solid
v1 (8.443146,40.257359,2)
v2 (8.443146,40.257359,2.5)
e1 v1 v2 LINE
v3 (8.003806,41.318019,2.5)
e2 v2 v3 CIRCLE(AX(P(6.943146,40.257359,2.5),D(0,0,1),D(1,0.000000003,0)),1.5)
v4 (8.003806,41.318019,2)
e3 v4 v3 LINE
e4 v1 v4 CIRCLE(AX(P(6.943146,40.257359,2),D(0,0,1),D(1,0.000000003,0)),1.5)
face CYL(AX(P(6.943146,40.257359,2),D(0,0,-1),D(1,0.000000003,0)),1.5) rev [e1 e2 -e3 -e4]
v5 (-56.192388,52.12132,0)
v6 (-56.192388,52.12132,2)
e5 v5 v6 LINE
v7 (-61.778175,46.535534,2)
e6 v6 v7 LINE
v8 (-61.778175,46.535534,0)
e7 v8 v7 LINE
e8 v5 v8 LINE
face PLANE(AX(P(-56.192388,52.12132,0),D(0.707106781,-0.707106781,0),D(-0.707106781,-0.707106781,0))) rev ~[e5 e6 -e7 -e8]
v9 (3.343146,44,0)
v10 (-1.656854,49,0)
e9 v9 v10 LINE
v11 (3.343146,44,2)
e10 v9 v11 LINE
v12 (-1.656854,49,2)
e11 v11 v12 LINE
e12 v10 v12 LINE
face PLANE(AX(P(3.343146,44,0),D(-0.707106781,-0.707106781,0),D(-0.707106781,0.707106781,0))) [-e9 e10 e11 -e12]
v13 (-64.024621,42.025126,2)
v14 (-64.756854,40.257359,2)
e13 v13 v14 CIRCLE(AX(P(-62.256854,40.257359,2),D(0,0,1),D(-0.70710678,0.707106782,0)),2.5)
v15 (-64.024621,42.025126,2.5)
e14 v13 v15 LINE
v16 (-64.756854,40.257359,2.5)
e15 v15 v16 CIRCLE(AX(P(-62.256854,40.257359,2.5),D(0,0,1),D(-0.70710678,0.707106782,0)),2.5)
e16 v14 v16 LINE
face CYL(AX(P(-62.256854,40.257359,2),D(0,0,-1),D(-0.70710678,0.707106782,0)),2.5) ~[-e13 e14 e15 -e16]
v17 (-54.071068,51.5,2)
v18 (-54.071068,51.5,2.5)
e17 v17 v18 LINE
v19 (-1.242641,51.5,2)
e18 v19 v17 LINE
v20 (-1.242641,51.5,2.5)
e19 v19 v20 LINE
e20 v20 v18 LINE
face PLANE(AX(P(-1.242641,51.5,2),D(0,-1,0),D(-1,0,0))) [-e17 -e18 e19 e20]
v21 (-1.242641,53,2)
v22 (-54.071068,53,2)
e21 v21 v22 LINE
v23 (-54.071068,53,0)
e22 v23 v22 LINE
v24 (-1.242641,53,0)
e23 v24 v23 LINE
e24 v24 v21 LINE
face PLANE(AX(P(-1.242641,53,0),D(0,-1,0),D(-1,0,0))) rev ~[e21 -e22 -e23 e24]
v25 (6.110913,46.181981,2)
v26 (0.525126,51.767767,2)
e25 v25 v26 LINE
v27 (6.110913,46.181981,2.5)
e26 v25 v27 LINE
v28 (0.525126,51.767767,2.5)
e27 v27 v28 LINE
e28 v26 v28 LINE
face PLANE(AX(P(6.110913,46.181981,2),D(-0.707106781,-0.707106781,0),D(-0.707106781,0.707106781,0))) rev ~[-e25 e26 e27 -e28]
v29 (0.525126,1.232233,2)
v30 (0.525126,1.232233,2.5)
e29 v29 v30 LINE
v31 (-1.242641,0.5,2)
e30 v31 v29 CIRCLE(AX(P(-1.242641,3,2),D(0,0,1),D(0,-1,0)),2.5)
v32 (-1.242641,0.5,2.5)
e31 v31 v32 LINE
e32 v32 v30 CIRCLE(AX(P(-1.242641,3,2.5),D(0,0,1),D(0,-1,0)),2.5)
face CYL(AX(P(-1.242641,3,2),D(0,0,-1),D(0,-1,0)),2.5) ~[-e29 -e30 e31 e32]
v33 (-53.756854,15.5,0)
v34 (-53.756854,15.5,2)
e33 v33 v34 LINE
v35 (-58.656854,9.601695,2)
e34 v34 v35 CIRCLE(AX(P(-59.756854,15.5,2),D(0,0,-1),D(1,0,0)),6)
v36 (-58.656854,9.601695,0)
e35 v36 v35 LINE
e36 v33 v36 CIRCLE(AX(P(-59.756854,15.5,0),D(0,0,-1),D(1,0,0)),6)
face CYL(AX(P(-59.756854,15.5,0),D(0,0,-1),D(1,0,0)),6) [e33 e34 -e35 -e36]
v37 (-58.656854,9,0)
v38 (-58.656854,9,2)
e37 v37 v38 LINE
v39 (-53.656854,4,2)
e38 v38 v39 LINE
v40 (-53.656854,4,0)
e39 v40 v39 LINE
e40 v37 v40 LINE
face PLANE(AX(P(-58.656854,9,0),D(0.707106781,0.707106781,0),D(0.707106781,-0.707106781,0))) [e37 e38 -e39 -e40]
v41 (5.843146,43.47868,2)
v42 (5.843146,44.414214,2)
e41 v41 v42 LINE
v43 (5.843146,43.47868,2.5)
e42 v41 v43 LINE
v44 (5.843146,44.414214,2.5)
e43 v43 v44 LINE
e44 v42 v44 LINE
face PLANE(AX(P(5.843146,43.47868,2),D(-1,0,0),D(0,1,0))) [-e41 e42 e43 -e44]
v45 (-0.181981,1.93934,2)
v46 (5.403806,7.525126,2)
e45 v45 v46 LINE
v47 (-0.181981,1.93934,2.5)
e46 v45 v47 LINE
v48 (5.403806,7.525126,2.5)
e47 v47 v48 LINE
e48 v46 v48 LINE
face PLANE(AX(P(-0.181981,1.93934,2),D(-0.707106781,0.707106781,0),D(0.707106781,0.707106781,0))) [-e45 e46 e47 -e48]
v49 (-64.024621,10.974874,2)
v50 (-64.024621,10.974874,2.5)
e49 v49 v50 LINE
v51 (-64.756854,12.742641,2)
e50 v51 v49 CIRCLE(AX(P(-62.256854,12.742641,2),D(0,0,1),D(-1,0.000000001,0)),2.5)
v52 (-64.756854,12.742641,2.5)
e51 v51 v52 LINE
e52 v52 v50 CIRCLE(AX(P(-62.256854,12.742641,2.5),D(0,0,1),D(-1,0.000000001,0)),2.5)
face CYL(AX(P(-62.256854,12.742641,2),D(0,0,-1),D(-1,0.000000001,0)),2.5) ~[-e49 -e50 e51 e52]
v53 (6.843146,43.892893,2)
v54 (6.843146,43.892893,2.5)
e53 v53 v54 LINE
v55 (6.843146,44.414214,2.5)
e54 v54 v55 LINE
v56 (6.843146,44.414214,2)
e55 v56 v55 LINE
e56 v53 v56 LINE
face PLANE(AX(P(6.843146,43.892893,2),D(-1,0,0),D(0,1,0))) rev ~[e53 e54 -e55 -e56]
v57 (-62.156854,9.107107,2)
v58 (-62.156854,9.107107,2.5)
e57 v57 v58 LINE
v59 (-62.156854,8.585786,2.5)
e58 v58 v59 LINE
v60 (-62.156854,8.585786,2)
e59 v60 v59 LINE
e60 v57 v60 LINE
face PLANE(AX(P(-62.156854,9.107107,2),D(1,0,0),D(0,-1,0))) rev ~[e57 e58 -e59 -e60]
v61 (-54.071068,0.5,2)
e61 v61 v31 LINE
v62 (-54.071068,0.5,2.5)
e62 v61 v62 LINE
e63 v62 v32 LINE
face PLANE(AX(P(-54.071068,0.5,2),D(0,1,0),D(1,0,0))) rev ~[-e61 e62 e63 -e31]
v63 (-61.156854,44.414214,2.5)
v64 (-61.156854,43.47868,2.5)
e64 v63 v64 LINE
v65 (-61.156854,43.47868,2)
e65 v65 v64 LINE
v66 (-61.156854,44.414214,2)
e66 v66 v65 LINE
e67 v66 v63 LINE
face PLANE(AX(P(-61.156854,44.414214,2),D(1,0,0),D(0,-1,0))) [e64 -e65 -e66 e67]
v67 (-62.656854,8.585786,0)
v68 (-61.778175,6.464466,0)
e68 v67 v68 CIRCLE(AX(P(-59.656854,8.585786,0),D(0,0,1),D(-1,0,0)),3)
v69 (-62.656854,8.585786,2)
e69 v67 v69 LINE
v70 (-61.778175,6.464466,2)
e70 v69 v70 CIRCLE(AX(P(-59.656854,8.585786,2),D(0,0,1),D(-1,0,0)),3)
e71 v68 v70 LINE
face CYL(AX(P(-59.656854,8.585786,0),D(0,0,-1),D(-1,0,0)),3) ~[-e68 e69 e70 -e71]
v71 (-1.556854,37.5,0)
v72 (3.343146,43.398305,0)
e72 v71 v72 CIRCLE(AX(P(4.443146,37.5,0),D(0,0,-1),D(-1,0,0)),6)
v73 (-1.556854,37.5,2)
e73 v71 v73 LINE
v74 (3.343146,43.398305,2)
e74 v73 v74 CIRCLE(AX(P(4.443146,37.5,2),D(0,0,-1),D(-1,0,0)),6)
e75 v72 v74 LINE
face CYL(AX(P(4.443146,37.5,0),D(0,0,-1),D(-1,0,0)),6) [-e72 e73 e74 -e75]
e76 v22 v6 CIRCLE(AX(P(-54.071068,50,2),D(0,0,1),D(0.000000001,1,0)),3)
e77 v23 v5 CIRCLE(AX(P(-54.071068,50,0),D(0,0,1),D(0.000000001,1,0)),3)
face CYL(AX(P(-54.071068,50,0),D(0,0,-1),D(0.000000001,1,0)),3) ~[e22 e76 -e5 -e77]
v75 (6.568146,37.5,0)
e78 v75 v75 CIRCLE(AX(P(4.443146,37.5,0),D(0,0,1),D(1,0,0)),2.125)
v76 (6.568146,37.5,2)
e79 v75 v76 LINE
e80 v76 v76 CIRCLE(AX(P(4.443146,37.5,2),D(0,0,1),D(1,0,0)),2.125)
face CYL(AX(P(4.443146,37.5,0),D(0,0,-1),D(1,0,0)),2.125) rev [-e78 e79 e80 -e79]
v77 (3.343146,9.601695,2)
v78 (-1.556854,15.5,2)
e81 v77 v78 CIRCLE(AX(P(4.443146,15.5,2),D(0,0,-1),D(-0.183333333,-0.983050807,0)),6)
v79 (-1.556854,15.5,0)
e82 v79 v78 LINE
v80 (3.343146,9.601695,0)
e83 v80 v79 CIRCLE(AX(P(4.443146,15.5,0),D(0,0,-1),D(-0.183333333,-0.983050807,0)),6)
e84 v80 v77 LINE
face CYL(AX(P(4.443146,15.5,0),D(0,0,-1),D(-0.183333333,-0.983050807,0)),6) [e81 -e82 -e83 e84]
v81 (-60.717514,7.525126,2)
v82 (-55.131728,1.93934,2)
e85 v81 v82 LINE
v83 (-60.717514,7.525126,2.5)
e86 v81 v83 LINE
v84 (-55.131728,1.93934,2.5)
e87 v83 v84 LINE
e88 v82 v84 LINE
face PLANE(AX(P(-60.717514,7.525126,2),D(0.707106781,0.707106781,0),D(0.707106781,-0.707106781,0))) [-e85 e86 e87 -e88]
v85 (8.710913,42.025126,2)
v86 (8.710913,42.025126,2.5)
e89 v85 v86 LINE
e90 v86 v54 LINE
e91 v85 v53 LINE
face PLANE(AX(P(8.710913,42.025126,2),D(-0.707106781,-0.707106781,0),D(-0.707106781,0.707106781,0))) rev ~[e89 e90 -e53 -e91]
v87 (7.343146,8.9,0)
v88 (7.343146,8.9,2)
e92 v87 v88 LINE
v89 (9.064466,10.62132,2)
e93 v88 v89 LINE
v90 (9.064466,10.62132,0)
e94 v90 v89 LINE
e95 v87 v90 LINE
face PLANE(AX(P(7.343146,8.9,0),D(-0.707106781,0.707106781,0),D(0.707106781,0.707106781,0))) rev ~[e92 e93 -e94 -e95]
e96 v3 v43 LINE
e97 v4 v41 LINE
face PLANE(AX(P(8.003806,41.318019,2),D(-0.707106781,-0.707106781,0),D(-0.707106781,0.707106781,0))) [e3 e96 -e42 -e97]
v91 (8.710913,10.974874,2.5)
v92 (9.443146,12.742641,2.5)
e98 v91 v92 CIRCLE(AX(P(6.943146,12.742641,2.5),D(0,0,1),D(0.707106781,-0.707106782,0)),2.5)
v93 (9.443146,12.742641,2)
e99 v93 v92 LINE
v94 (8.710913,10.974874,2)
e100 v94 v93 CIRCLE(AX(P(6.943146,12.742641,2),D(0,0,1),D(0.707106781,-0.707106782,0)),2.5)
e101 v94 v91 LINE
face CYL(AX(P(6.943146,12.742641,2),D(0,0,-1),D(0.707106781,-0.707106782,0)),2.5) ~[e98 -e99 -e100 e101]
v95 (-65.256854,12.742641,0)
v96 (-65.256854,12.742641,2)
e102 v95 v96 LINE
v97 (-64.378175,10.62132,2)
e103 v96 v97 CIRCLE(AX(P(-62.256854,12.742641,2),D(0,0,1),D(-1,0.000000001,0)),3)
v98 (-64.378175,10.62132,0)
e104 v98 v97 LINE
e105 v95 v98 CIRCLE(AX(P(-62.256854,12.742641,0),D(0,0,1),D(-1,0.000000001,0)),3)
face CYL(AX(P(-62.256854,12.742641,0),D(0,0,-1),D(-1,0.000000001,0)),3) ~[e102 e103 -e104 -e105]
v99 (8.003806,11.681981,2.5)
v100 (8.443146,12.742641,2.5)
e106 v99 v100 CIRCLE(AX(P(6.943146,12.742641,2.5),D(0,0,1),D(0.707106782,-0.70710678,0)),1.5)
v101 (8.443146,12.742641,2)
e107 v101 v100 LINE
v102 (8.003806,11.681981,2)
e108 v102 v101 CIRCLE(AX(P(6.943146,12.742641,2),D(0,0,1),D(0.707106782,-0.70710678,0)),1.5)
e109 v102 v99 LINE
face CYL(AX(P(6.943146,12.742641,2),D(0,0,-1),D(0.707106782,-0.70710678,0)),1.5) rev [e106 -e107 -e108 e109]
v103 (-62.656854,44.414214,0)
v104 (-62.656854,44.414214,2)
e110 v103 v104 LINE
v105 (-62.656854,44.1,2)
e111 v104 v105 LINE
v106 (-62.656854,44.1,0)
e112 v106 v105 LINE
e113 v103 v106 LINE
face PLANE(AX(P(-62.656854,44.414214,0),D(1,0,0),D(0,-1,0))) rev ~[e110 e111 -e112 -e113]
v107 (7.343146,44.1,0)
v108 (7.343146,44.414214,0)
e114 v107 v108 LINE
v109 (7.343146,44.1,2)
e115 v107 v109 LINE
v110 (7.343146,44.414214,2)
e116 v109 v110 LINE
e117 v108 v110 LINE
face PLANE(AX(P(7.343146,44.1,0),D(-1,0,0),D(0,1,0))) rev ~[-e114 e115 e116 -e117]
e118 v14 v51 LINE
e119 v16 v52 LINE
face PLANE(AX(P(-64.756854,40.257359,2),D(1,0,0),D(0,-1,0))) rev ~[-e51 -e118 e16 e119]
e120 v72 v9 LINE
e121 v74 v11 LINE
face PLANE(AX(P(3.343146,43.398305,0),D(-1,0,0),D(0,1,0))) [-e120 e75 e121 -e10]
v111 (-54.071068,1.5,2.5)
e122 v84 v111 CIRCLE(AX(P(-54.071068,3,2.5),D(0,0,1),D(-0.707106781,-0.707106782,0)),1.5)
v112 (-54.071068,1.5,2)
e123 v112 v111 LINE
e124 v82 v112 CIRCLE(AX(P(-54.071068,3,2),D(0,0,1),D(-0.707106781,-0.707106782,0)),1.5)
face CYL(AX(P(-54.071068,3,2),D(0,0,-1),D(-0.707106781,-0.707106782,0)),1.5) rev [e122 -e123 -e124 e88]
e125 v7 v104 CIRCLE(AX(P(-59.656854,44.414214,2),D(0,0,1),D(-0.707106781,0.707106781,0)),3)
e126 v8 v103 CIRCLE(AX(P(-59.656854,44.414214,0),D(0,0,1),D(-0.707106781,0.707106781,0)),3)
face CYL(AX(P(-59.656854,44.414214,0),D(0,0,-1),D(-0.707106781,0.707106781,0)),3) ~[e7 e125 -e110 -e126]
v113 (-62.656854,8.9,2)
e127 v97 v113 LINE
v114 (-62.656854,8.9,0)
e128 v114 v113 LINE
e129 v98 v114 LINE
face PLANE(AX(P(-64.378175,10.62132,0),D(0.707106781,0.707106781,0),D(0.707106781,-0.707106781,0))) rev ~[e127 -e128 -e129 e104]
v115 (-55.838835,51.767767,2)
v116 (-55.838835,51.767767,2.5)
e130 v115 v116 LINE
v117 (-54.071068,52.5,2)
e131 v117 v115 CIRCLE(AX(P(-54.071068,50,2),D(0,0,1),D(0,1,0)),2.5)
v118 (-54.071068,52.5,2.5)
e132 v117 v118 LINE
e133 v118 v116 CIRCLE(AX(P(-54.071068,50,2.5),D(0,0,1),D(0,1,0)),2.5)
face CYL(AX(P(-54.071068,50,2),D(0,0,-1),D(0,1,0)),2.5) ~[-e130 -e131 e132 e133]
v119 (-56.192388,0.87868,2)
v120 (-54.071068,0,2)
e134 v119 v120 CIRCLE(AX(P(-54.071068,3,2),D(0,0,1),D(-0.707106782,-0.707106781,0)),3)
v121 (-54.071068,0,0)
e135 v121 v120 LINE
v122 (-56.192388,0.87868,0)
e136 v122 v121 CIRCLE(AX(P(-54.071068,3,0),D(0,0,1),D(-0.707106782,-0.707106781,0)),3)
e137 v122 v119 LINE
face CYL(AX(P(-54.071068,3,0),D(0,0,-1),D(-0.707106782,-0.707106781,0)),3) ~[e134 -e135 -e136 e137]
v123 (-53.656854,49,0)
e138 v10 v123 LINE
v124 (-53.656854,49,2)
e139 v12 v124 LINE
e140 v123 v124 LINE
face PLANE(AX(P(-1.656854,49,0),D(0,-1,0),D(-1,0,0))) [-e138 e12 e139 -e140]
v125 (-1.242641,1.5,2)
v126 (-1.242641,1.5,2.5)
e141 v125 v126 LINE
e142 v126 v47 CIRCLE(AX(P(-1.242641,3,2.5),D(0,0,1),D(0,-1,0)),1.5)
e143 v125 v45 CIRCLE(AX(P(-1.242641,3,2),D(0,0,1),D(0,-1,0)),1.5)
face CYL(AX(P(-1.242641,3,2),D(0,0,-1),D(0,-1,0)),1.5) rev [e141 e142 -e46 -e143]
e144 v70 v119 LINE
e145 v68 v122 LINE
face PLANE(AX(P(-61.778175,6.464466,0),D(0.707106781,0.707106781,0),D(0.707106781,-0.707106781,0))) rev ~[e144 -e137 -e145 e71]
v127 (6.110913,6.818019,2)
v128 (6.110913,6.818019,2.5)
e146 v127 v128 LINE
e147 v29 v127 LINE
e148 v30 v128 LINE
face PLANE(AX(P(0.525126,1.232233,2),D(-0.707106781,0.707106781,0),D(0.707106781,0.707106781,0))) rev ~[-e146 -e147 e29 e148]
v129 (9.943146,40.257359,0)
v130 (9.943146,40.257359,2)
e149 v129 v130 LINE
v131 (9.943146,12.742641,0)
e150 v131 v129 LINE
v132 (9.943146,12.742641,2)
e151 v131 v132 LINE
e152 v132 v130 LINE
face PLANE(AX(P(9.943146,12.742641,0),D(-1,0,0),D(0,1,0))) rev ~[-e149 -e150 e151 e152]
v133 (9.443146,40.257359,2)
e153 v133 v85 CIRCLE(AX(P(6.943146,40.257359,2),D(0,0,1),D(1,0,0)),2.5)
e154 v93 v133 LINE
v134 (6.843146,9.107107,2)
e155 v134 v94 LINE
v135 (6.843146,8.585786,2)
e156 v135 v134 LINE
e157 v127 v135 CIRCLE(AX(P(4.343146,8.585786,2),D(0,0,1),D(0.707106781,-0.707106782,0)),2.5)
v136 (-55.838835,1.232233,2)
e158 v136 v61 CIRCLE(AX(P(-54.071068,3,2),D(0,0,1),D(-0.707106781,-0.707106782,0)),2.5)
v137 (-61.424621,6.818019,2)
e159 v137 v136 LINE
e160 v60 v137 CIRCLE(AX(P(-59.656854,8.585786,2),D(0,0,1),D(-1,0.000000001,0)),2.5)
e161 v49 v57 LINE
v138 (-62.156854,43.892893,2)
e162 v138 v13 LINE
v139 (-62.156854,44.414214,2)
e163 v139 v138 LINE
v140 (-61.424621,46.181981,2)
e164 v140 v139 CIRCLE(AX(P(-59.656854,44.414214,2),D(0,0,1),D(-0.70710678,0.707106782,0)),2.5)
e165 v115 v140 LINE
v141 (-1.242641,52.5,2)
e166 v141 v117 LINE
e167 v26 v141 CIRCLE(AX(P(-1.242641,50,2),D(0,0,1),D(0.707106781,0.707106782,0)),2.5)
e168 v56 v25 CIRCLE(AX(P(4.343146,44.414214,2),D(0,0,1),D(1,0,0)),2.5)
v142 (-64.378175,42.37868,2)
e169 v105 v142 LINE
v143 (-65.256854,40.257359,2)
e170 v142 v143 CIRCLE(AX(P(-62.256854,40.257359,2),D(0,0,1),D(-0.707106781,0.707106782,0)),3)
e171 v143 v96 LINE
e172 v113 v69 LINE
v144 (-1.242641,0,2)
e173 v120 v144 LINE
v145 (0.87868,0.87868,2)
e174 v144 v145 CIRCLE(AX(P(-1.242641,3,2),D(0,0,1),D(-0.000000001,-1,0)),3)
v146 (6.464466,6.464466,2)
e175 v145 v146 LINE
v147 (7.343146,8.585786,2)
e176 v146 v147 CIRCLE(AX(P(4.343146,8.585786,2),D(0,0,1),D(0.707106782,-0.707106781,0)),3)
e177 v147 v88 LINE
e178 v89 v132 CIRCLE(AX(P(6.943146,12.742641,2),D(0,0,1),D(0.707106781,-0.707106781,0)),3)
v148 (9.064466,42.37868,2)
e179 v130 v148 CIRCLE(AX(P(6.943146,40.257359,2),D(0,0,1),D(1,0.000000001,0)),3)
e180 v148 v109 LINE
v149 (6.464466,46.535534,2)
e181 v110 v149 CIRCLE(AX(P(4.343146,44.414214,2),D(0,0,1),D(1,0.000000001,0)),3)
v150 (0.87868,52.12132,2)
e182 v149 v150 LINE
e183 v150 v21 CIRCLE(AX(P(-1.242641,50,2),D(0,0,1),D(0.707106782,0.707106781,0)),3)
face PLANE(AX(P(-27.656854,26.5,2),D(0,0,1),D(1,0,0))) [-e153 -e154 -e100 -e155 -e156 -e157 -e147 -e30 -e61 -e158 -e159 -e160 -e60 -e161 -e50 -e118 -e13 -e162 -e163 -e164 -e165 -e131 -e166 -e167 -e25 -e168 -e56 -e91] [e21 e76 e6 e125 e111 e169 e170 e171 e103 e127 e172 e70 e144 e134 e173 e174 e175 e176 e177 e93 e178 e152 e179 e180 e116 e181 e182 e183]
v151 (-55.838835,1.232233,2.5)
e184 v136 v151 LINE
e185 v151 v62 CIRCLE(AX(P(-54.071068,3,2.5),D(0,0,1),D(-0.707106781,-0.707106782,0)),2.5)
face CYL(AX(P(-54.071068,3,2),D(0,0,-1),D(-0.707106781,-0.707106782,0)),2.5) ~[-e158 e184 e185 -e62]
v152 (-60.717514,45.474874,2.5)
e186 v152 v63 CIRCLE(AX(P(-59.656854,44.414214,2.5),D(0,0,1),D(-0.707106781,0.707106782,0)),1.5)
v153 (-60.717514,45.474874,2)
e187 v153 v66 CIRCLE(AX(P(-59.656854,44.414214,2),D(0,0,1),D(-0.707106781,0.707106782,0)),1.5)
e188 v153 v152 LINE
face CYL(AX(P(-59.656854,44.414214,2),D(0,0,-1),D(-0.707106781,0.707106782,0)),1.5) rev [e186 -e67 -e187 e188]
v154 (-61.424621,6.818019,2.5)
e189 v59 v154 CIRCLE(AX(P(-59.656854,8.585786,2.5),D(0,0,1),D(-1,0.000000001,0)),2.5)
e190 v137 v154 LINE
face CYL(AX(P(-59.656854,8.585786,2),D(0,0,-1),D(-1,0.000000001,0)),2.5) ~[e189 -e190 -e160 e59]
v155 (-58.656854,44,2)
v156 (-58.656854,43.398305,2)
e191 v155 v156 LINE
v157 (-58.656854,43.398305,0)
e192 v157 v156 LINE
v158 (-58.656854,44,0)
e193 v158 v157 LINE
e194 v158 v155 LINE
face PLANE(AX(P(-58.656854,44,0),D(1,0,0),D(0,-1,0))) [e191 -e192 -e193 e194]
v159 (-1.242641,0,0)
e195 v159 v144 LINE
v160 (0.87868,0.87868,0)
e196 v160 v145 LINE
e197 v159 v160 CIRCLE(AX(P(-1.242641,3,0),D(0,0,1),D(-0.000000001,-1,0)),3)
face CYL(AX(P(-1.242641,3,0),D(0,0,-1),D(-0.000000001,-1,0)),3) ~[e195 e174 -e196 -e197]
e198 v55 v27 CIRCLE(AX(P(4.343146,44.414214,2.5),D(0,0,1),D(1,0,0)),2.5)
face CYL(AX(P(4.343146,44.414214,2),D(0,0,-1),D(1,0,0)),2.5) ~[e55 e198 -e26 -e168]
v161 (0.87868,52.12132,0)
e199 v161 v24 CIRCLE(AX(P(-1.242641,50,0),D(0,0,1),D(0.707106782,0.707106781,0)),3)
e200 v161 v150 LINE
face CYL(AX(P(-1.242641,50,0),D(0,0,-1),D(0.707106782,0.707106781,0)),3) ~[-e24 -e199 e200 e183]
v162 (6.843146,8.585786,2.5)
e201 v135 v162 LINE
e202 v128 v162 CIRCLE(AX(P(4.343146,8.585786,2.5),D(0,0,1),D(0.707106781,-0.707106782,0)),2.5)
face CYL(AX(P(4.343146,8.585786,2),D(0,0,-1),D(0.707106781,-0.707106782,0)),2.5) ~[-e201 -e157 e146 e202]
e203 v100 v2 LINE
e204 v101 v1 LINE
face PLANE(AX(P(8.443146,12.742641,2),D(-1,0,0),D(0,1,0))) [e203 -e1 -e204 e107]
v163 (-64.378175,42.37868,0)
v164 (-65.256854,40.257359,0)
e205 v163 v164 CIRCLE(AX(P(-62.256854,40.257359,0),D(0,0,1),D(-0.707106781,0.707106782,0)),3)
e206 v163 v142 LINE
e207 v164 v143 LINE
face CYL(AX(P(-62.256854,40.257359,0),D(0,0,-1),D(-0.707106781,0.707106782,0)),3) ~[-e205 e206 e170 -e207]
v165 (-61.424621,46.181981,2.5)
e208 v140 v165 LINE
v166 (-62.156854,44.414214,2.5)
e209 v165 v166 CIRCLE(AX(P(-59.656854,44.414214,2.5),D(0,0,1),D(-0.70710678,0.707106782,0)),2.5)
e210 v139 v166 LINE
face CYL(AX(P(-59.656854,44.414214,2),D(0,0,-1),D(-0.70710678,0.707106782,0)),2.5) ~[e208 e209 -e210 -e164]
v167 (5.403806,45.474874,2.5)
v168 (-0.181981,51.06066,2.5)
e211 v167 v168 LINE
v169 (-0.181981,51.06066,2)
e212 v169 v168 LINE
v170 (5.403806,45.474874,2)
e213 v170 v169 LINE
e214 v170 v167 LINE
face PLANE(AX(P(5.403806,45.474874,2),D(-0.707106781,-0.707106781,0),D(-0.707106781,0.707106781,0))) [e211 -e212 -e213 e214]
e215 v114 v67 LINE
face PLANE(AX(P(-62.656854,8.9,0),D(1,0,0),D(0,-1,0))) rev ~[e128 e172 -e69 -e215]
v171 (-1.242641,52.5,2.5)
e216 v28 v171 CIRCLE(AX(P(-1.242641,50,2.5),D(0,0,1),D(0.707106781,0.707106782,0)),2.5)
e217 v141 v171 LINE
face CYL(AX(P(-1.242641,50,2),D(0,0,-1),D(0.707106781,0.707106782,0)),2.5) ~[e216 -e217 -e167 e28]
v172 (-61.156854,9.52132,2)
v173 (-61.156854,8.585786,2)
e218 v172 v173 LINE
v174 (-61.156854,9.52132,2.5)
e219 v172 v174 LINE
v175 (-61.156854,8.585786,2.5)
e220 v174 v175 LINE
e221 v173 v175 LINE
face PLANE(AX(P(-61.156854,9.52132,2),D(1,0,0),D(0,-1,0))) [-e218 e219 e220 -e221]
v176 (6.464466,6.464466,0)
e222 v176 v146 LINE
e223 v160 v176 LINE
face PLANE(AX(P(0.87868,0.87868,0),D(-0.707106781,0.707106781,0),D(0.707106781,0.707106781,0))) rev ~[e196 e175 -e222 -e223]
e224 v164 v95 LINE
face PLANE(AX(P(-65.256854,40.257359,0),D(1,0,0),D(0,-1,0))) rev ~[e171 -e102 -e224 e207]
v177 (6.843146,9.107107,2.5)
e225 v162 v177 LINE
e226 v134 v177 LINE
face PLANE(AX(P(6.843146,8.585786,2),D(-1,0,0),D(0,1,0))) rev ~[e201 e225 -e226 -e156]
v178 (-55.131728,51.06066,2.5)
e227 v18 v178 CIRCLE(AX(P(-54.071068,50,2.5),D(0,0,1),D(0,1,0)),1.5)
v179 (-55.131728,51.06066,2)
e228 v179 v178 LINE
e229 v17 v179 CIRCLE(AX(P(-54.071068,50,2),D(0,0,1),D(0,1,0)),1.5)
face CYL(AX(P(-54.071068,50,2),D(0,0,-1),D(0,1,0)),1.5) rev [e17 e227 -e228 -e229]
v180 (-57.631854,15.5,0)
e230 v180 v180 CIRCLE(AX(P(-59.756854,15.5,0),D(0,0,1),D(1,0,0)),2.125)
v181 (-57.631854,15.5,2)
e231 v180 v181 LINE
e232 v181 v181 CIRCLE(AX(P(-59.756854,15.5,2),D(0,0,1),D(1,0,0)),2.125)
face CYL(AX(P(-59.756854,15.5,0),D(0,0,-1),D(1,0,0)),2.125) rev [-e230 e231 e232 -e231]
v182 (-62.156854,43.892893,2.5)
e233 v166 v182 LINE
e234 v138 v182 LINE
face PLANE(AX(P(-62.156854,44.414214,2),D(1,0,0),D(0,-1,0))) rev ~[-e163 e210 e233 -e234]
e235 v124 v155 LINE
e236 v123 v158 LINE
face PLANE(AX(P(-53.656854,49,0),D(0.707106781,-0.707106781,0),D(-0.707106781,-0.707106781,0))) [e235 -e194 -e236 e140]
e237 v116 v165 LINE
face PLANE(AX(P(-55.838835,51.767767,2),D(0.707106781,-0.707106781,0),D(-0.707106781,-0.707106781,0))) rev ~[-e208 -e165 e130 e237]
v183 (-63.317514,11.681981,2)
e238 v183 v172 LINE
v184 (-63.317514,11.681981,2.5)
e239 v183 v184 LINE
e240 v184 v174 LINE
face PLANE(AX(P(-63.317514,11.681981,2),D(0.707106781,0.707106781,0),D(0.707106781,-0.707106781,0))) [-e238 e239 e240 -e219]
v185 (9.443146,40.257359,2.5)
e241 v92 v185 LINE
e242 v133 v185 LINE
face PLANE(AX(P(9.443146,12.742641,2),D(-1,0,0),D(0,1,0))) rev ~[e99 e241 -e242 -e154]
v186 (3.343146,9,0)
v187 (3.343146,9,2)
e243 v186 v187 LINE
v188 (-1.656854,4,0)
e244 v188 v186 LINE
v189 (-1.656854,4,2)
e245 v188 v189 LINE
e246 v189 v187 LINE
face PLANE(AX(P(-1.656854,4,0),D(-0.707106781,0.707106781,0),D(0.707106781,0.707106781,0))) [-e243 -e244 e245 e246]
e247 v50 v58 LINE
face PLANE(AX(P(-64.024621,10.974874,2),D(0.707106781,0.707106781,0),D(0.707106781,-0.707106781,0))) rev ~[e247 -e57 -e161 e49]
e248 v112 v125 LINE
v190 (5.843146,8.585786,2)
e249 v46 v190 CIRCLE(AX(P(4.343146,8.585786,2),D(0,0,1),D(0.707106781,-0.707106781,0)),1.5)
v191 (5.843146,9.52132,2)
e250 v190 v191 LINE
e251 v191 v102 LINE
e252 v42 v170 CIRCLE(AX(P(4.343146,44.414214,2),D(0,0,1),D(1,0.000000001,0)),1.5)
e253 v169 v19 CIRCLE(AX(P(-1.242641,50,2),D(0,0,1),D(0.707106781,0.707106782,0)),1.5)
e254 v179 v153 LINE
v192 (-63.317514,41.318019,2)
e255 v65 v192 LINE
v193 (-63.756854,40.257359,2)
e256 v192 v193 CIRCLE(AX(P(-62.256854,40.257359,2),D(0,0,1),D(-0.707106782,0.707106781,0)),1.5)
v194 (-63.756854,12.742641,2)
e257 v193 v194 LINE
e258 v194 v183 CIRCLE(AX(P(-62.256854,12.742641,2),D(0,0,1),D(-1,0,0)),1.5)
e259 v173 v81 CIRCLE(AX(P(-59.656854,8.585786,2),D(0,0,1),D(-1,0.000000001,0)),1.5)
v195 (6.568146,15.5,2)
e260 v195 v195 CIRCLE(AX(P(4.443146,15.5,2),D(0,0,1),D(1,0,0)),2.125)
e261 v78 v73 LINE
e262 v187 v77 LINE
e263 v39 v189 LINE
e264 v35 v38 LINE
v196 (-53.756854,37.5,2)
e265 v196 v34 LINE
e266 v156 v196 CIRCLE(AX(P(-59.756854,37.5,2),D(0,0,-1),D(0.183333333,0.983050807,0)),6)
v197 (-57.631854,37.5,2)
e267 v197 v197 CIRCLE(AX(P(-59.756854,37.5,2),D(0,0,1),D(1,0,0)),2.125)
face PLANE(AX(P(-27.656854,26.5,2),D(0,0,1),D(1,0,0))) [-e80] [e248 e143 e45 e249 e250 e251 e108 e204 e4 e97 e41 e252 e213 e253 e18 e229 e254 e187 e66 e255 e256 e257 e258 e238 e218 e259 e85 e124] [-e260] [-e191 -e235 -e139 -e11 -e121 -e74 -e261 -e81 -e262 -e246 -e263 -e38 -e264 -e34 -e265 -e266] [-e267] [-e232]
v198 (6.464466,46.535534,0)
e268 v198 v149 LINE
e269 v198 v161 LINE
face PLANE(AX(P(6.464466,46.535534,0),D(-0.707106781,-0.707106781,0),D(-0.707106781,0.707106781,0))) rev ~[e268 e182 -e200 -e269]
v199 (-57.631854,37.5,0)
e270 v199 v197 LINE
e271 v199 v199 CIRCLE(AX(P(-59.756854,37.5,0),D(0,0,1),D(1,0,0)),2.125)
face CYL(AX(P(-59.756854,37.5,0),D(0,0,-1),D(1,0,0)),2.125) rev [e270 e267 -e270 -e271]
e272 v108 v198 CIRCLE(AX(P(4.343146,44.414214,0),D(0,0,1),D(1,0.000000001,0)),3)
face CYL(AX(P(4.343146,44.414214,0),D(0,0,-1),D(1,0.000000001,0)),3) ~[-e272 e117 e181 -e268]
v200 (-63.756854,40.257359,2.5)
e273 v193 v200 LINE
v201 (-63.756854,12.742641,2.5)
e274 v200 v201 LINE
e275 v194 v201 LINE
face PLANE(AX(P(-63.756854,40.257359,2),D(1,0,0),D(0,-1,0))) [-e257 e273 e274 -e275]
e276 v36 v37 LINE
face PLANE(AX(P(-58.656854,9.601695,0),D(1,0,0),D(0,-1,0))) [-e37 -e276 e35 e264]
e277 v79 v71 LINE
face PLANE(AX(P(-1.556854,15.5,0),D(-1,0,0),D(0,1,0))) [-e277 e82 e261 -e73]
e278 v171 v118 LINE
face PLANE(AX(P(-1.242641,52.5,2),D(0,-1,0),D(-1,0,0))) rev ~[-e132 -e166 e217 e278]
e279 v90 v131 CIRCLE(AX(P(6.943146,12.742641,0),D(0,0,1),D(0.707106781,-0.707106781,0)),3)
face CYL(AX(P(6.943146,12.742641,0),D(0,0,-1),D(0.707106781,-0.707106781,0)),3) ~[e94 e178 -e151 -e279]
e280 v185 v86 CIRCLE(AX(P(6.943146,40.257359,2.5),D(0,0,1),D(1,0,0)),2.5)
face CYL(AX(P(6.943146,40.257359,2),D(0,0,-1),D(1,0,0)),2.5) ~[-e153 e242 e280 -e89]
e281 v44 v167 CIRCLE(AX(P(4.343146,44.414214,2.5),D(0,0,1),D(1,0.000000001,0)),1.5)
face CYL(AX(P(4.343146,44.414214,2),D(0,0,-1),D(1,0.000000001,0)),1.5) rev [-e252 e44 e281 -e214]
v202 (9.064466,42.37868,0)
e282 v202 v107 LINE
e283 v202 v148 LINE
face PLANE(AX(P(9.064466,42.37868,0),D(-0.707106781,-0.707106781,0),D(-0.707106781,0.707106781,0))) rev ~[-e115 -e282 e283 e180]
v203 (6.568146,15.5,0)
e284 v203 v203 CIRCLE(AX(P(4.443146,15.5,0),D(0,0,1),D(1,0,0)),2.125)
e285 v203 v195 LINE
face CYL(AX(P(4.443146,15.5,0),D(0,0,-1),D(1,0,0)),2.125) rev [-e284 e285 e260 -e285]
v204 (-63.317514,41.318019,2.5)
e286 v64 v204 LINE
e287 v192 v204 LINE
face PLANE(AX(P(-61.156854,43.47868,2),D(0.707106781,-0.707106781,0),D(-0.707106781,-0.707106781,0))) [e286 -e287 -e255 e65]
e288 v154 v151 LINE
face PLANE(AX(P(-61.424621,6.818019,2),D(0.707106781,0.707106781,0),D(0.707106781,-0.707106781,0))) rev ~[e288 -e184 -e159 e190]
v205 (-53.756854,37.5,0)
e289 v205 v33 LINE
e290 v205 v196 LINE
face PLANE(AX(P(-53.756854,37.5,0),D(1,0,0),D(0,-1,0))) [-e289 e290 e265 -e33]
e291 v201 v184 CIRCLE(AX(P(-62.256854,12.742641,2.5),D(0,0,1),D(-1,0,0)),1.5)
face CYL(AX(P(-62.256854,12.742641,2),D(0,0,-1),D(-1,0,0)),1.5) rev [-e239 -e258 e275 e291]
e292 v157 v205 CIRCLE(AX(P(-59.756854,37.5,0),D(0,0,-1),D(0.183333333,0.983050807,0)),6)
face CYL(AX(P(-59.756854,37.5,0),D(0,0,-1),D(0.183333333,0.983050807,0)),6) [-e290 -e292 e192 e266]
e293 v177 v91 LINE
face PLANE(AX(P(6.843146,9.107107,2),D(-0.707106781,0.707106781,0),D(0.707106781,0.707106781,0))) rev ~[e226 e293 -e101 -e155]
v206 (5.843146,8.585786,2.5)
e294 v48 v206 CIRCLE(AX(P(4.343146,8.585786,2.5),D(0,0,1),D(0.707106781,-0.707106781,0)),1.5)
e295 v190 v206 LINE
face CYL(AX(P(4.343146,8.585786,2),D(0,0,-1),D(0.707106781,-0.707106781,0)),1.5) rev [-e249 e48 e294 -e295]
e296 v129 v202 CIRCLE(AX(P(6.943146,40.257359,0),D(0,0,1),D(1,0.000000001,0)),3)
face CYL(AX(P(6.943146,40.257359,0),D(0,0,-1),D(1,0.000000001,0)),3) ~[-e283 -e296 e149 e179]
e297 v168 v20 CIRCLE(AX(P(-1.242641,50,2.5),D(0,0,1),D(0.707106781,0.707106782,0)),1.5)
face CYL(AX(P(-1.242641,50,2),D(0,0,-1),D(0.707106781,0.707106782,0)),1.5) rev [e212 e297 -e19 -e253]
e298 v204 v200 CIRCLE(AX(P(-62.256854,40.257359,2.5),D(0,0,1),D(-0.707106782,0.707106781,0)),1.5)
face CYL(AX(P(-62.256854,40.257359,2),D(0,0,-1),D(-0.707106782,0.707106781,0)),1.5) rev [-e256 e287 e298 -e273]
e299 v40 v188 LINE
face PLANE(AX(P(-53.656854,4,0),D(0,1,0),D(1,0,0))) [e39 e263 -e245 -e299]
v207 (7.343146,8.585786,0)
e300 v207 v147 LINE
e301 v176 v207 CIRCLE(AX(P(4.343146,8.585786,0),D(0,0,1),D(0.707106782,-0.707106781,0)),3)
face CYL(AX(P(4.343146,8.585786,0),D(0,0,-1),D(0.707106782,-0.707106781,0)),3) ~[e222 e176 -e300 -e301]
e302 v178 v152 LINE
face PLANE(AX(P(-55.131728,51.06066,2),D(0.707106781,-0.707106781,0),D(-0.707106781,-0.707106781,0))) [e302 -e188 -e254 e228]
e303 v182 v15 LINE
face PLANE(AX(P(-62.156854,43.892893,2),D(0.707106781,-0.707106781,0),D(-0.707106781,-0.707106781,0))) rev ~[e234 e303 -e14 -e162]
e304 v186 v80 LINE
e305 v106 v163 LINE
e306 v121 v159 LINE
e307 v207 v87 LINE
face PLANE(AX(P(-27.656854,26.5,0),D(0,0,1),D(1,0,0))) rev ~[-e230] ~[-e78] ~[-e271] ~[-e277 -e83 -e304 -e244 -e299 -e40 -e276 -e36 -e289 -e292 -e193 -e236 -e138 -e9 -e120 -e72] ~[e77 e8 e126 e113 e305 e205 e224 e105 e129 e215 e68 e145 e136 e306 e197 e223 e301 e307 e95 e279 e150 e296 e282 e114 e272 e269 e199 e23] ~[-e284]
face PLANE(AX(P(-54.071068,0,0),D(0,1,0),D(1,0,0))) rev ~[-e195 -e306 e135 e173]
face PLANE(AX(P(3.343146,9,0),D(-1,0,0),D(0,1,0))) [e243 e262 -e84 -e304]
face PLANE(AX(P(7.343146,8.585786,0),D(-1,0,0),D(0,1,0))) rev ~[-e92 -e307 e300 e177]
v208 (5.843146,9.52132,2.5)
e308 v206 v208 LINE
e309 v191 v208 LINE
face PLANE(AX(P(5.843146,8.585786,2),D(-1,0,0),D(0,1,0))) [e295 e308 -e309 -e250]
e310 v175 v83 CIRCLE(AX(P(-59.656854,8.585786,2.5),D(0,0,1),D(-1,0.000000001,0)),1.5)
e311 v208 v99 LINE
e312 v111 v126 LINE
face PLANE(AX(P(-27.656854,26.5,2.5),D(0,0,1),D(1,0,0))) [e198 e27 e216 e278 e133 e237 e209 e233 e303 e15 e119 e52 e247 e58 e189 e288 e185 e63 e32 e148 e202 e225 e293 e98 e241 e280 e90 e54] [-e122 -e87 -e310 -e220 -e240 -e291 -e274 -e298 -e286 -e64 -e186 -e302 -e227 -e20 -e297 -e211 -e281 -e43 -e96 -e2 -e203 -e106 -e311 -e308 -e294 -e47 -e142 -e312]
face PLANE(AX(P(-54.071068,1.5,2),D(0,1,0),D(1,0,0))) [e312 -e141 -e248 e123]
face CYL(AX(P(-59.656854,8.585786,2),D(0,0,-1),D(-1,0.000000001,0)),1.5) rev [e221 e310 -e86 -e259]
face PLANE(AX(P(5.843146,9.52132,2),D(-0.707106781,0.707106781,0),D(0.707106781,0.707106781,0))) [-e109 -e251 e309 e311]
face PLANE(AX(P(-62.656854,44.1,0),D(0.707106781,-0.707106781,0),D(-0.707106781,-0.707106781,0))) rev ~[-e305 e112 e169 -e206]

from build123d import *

# Parameters (mm, degrees)
SKETCH1_R           = 2.125
BOSS_EXTRUDE1_DEPTH = 2
BOSS_EXTRUDE2_DEPTH = 0.5


with BuildPart() as part:
    # Sketch1 → Boss-Extrude1 (new body)
    with BuildSketch(Plane.XY):
        with BuildLine():
            Line((-64.378174593, 10.621320344), (-62.656854249, 8.9))
            Line((-62.656854249, 8.9), (-62.656854249, 8.585786438))
            ThreePointArc((-62.656854249, 8.585786438), (-62.428492847, 7.437736141), (-61.778174593, 6.464466094))
            Line((-61.778174593, 6.464466094), (-56.192388155, 0.878679656))
            ThreePointArc((-56.192388155, 0.878679656), (-55.219118109, 0.228361402), (-54.071067812, 0))
            Line((-54.071067812, 0), (-1.242640687, 0))
            ThreePointArc((-1.242640687, 0), (-0.09459039, 0.228361402), (0.878679656, 0.878679656))
            Line((0.878679656, 0.878679656), (6.464466094, 6.464466094))
            ThreePointArc((6.464466094, 6.464466094), (7.114784348, 7.437736141), (7.343145751, 8.585786438))
            Line((7.343145751, 8.585786438), (7.343145751, 8.9))
            Line((7.343145751, 8.9), (9.064466094, 10.621320344))
            ThreePointArc((9.064466094, 10.621320344), (9.714784348, 11.59459039), (9.943145751, 12.742640687))
            Line((9.943145751, 12.742640687), (9.943145751, 40.257359313))
            ThreePointArc((9.943145751, 40.257359313), (9.714784348, 41.40540961), (9.064466094, 42.378679656))
            Line((9.064466094, 42.378679656), (7.343145751, 44.1))
            Line((7.343145751, 44.1), (7.343145751, 44.414213562))
            ThreePointArc((7.343145751, 44.414213562), (7.114784348, 45.562263859), (6.464466094, 46.535533906))
            Line((6.464466094, 46.535533906), (0.878679656, 52.121320344))
            ThreePointArc((0.878679656, 52.121320344), (-0.09459039, 52.771638598), (-1.242640687, 53))
            Line((-1.242640687, 53), (-54.071067812, 53))
            ThreePointArc((-54.071067812, 53), (-55.219118109, 52.771638598), (-56.192388155, 52.121320344))
            Line((-56.192388155, 52.121320344), (-61.778174593, 46.535533906))
            ThreePointArc((-61.778174593, 46.535533906), (-62.428492847, 45.562263859), (-62.656854249, 44.414213562))
            Line((-62.656854249, 44.414213562), (-62.656854249, 44.1))
            Line((-62.656854249, 44.1), (-64.378174593, 42.378679656))
            ThreePointArc((-64.378174593, 42.378679656), (-65.028492847, 41.40540961), (-65.256854249, 40.257359313))
            Line((-65.256854249, 40.257359313), (-65.256854249, 12.742640687))
            ThreePointArc((-65.256854249, 12.742640687), (-65.028492847, 11.59459039), (-64.378174593, 10.621320344))
        make_face()
        with Locations((4.443145751, 37.5)):
            Circle(SKETCH1_R, mode=Mode.SUBTRACT)
        with Locations((-59.756854249, 37.5)):
            Circle(SKETCH1_R, mode=Mode.SUBTRACT)
        with Locations((-59.756854249, 15.5)):
            Circle(SKETCH1_R, mode=Mode.SUBTRACT)
        with Locations((4.443145751, 15.5)):
            Circle(SKETCH1_R, mode=Mode.SUBTRACT)
        with BuildLine():
            Line((-1.656854249, 49), (-53.656854249, 49))
            Line((-53.656854249, 49), (-58.656854249, 44))
            Line((-58.656854249, 44), (-58.656854249, 43.398304841))
            ThreePointArc((-58.656854249, 43.398304841), (-55.141661946, 41.334057903), (-53.756854249, 37.5))
            Line((-53.756854249, 37.5), (-53.756854249, 15.5))
            ThreePointArc((-53.756854249, 15.5), (-55.141661946, 11.665942097), (-58.656854249, 9.601695159))
            Line((-58.656854249, 9.601695159), (-58.656854249, 9))
            Line((-58.656854249, 9), (-53.656854249, 4))
            Line((-53.656854249, 4), (-1.656854249, 4))
            Line((-1.656854249, 4), (3.343145751, 9))
            Line((3.343145751, 9), (3.343145751, 9.601695159))
            ThreePointArc((3.343145751, 9.601695159), (-0.172046553, 11.665942097), (-1.556854249, 15.5))
            Line((-1.556854249, 15.5), (-1.556854249, 37.5))
            ThreePointArc((-1.556854249, 37.5), (-0.172046553, 41.334057903), (3.343145751, 43.398304841))
            Line((3.343145751, 43.398304841), (3.343145751, 44))
            Line((3.343145751, 44), (-1.656854249, 49))
        make_face(mode=Mode.SUBTRACT)
    extrude(amount=BOSS_EXTRUDE1_DEPTH)

    # Sketch2 → Boss-Extrude2 (add)
    with BuildSketch(Plane.XY.offset(2)):
        with BuildLine():
            Line((-62.156854249, 9.107106781), (-62.156854249, 8.585786438))
            ThreePointArc((-62.156854249, 8.585786438), (-61.966553081, 7.629077857), (-61.424621202, 6.818019485))
            Line((-61.424621202, 6.818019485), (-55.838834765, 1.232233047))
            ThreePointArc((-55.838834765, 1.232233047), (-55.027776393, 0.690301169), (-54.071067812, 0.5))
            Line((-54.071067812, 0.5), (-1.242640687, 0.5))
            ThreePointArc((-1.242640687, 0.5), (-0.285932106, 0.690301169), (0.525126266, 1.232233047))
            Line((0.525126266, 1.232233047), (6.110912703, 6.818019485))
            ThreePointArc((6.110912703, 6.818019485), (6.652844582, 7.629077857), (6.843145751, 8.585786438))
            Line((6.843145751, 8.585786438), (6.843145751, 9.107106781))
            Line((6.843145751, 9.107106781), (8.710912703, 10.974873734))
            ThreePointArc((8.710912703, 10.974873734), (9.252844582, 11.785932106), (9.443145751, 12.742640687))
            Line((9.443145751, 12.742640687), (9.443145751, 40.257359313))
            ThreePointArc((9.443145751, 40.257359313), (9.252844582, 41.214067894), (8.710912703, 42.025126266))
            Line((8.710912703, 42.025126266), (6.843145751, 43.892893219))
            Line((6.843145751, 43.892893219), (6.843145751, 44.414213562))
            ThreePointArc((6.843145751, 44.414213562), (6.652844582, 45.370922143), (6.110912703, 46.181980515))
            Line((6.110912703, 46.181980515), (0.525126266, 51.767766953))
            ThreePointArc((0.525126266, 51.767766953), (-0.285932106, 52.309698831), (-1.242640687, 52.5))
            Line((-1.242640687, 52.5), (-54.071067812, 52.5))
            ThreePointArc((-54.071067812, 52.5), (-55.027776393, 52.309698831), (-55.838834765, 51.767766953))
            Line((-55.838834765, 51.767766953), (-61.424621202, 46.181980515))
            ThreePointArc((-61.424621202, 46.181980515), (-61.966553081, 45.370922143), (-62.156854249, 44.414213562))
            Line((-62.156854249, 44.414213562), (-62.156854249, 43.892893219))
            Line((-62.156854249, 43.892893219), (-64.024621202, 42.025126266))
            ThreePointArc((-64.024621202, 42.025126266), (-64.566553081, 41.214067894), (-64.756854249, 40.257359313))
            Line((-64.756854249, 40.257359313), (-64.756854249, 12.742640687))
            ThreePointArc((-64.756854249, 12.742640687), (-64.566553081, 11.785932106), (-64.024621202, 10.974873734))
            Line((-64.024621202, 10.974873734), (-62.156854249, 9.107106781))
        make_face()
        with BuildLine():
            Line((-61.156854249, 9.521320344), (-61.156854249, 8.585786438))
            ThreePointArc((-61.156854249, 8.585786438), (-61.042673548, 8.011761289), (-60.717514421, 7.525126266))
            Line((-60.717514421, 7.525126266), (-55.131727984, 1.939339828))
            ThreePointArc((-55.131727984, 1.939339828), (-54.64509296, 1.614180701), (-54.071067812, 1.5))
            Line((-54.071067812, 1.5), (-1.242640687, 1.5))
            ThreePointArc((-1.242640687, 1.5), (-0.668615539, 1.614180701), (-0.181980515, 1.939339828))
            Line((-0.181980515, 1.939339828), (5.403805922, 7.525126266))
            ThreePointArc((5.403805922, 7.525126266), (5.728965049, 8.011761289), (5.843145751, 8.585786438))
            Line((5.843145751, 8.585786438), (5.843145751, 9.521320344))
            Line((5.843145751, 9.521320344), (8.003805922, 11.681980515))
            ThreePointArc((8.003805922, 11.681980515), (8.328965049, 12.168615539), (8.443145751, 12.742640687))
            Line((8.443145751, 12.742640687), (8.443145751, 40.257359313))
            ThreePointArc((8.443145751, 40.257359313), (8.328965049, 40.831384461), (8.003805922, 41.318019485))
            Line((8.003805922, 41.318019485), (5.843145751, 43.478679656))
            Line((5.843145751, 43.478679656), (5.843145751, 44.414213562))
            ThreePointArc((5.843145751, 44.414213562), (5.728965049, 44.988238711), (5.403805922, 45.474873734))
            Line((5.403805922, 45.474873734), (-0.181980515, 51.060660172))
            ThreePointArc((-0.181980515, 51.060660172), (-0.668615539, 51.385819299), (-1.242640687, 51.5))
            Line((-1.242640687, 51.5), (-54.071067812, 51.5))
            ThreePointArc((-54.071067812, 51.5), (-54.64509296, 51.385819299), (-55.131727984, 51.060660172))
            Line((-55.131727984, 51.060660172), (-60.717514421, 45.474873734))
            ThreePointArc((-60.717514421, 45.474873734), (-61.042673548, 44.988238711), (-61.156854249, 44.414213562))
            Line((-61.156854249, 44.414213562), (-61.156854249, 43.478679656))
            Line((-61.156854249, 43.478679656), (-63.317514421, 41.318019485))
            ThreePointArc((-63.317514421, 41.318019485), (-63.642673548, 40.831384461), (-63.756854249, 40.257359313))
            Line((-63.756854249, 40.257359313), (-63.756854249, 12.742640687))
            ThreePointArc((-63.756854249, 12.742640687), (-63.642673548, 12.168615539), (-63.317514421, 11.681980515))
            Line((-63.317514421, 11.681980515), (-61.156854249, 9.521320344))
        make_face(mode=Mode.SUBTRACT)
    extrude(amount=BOSS_EXTRUDE2_DEPTH)


solid = part.part
